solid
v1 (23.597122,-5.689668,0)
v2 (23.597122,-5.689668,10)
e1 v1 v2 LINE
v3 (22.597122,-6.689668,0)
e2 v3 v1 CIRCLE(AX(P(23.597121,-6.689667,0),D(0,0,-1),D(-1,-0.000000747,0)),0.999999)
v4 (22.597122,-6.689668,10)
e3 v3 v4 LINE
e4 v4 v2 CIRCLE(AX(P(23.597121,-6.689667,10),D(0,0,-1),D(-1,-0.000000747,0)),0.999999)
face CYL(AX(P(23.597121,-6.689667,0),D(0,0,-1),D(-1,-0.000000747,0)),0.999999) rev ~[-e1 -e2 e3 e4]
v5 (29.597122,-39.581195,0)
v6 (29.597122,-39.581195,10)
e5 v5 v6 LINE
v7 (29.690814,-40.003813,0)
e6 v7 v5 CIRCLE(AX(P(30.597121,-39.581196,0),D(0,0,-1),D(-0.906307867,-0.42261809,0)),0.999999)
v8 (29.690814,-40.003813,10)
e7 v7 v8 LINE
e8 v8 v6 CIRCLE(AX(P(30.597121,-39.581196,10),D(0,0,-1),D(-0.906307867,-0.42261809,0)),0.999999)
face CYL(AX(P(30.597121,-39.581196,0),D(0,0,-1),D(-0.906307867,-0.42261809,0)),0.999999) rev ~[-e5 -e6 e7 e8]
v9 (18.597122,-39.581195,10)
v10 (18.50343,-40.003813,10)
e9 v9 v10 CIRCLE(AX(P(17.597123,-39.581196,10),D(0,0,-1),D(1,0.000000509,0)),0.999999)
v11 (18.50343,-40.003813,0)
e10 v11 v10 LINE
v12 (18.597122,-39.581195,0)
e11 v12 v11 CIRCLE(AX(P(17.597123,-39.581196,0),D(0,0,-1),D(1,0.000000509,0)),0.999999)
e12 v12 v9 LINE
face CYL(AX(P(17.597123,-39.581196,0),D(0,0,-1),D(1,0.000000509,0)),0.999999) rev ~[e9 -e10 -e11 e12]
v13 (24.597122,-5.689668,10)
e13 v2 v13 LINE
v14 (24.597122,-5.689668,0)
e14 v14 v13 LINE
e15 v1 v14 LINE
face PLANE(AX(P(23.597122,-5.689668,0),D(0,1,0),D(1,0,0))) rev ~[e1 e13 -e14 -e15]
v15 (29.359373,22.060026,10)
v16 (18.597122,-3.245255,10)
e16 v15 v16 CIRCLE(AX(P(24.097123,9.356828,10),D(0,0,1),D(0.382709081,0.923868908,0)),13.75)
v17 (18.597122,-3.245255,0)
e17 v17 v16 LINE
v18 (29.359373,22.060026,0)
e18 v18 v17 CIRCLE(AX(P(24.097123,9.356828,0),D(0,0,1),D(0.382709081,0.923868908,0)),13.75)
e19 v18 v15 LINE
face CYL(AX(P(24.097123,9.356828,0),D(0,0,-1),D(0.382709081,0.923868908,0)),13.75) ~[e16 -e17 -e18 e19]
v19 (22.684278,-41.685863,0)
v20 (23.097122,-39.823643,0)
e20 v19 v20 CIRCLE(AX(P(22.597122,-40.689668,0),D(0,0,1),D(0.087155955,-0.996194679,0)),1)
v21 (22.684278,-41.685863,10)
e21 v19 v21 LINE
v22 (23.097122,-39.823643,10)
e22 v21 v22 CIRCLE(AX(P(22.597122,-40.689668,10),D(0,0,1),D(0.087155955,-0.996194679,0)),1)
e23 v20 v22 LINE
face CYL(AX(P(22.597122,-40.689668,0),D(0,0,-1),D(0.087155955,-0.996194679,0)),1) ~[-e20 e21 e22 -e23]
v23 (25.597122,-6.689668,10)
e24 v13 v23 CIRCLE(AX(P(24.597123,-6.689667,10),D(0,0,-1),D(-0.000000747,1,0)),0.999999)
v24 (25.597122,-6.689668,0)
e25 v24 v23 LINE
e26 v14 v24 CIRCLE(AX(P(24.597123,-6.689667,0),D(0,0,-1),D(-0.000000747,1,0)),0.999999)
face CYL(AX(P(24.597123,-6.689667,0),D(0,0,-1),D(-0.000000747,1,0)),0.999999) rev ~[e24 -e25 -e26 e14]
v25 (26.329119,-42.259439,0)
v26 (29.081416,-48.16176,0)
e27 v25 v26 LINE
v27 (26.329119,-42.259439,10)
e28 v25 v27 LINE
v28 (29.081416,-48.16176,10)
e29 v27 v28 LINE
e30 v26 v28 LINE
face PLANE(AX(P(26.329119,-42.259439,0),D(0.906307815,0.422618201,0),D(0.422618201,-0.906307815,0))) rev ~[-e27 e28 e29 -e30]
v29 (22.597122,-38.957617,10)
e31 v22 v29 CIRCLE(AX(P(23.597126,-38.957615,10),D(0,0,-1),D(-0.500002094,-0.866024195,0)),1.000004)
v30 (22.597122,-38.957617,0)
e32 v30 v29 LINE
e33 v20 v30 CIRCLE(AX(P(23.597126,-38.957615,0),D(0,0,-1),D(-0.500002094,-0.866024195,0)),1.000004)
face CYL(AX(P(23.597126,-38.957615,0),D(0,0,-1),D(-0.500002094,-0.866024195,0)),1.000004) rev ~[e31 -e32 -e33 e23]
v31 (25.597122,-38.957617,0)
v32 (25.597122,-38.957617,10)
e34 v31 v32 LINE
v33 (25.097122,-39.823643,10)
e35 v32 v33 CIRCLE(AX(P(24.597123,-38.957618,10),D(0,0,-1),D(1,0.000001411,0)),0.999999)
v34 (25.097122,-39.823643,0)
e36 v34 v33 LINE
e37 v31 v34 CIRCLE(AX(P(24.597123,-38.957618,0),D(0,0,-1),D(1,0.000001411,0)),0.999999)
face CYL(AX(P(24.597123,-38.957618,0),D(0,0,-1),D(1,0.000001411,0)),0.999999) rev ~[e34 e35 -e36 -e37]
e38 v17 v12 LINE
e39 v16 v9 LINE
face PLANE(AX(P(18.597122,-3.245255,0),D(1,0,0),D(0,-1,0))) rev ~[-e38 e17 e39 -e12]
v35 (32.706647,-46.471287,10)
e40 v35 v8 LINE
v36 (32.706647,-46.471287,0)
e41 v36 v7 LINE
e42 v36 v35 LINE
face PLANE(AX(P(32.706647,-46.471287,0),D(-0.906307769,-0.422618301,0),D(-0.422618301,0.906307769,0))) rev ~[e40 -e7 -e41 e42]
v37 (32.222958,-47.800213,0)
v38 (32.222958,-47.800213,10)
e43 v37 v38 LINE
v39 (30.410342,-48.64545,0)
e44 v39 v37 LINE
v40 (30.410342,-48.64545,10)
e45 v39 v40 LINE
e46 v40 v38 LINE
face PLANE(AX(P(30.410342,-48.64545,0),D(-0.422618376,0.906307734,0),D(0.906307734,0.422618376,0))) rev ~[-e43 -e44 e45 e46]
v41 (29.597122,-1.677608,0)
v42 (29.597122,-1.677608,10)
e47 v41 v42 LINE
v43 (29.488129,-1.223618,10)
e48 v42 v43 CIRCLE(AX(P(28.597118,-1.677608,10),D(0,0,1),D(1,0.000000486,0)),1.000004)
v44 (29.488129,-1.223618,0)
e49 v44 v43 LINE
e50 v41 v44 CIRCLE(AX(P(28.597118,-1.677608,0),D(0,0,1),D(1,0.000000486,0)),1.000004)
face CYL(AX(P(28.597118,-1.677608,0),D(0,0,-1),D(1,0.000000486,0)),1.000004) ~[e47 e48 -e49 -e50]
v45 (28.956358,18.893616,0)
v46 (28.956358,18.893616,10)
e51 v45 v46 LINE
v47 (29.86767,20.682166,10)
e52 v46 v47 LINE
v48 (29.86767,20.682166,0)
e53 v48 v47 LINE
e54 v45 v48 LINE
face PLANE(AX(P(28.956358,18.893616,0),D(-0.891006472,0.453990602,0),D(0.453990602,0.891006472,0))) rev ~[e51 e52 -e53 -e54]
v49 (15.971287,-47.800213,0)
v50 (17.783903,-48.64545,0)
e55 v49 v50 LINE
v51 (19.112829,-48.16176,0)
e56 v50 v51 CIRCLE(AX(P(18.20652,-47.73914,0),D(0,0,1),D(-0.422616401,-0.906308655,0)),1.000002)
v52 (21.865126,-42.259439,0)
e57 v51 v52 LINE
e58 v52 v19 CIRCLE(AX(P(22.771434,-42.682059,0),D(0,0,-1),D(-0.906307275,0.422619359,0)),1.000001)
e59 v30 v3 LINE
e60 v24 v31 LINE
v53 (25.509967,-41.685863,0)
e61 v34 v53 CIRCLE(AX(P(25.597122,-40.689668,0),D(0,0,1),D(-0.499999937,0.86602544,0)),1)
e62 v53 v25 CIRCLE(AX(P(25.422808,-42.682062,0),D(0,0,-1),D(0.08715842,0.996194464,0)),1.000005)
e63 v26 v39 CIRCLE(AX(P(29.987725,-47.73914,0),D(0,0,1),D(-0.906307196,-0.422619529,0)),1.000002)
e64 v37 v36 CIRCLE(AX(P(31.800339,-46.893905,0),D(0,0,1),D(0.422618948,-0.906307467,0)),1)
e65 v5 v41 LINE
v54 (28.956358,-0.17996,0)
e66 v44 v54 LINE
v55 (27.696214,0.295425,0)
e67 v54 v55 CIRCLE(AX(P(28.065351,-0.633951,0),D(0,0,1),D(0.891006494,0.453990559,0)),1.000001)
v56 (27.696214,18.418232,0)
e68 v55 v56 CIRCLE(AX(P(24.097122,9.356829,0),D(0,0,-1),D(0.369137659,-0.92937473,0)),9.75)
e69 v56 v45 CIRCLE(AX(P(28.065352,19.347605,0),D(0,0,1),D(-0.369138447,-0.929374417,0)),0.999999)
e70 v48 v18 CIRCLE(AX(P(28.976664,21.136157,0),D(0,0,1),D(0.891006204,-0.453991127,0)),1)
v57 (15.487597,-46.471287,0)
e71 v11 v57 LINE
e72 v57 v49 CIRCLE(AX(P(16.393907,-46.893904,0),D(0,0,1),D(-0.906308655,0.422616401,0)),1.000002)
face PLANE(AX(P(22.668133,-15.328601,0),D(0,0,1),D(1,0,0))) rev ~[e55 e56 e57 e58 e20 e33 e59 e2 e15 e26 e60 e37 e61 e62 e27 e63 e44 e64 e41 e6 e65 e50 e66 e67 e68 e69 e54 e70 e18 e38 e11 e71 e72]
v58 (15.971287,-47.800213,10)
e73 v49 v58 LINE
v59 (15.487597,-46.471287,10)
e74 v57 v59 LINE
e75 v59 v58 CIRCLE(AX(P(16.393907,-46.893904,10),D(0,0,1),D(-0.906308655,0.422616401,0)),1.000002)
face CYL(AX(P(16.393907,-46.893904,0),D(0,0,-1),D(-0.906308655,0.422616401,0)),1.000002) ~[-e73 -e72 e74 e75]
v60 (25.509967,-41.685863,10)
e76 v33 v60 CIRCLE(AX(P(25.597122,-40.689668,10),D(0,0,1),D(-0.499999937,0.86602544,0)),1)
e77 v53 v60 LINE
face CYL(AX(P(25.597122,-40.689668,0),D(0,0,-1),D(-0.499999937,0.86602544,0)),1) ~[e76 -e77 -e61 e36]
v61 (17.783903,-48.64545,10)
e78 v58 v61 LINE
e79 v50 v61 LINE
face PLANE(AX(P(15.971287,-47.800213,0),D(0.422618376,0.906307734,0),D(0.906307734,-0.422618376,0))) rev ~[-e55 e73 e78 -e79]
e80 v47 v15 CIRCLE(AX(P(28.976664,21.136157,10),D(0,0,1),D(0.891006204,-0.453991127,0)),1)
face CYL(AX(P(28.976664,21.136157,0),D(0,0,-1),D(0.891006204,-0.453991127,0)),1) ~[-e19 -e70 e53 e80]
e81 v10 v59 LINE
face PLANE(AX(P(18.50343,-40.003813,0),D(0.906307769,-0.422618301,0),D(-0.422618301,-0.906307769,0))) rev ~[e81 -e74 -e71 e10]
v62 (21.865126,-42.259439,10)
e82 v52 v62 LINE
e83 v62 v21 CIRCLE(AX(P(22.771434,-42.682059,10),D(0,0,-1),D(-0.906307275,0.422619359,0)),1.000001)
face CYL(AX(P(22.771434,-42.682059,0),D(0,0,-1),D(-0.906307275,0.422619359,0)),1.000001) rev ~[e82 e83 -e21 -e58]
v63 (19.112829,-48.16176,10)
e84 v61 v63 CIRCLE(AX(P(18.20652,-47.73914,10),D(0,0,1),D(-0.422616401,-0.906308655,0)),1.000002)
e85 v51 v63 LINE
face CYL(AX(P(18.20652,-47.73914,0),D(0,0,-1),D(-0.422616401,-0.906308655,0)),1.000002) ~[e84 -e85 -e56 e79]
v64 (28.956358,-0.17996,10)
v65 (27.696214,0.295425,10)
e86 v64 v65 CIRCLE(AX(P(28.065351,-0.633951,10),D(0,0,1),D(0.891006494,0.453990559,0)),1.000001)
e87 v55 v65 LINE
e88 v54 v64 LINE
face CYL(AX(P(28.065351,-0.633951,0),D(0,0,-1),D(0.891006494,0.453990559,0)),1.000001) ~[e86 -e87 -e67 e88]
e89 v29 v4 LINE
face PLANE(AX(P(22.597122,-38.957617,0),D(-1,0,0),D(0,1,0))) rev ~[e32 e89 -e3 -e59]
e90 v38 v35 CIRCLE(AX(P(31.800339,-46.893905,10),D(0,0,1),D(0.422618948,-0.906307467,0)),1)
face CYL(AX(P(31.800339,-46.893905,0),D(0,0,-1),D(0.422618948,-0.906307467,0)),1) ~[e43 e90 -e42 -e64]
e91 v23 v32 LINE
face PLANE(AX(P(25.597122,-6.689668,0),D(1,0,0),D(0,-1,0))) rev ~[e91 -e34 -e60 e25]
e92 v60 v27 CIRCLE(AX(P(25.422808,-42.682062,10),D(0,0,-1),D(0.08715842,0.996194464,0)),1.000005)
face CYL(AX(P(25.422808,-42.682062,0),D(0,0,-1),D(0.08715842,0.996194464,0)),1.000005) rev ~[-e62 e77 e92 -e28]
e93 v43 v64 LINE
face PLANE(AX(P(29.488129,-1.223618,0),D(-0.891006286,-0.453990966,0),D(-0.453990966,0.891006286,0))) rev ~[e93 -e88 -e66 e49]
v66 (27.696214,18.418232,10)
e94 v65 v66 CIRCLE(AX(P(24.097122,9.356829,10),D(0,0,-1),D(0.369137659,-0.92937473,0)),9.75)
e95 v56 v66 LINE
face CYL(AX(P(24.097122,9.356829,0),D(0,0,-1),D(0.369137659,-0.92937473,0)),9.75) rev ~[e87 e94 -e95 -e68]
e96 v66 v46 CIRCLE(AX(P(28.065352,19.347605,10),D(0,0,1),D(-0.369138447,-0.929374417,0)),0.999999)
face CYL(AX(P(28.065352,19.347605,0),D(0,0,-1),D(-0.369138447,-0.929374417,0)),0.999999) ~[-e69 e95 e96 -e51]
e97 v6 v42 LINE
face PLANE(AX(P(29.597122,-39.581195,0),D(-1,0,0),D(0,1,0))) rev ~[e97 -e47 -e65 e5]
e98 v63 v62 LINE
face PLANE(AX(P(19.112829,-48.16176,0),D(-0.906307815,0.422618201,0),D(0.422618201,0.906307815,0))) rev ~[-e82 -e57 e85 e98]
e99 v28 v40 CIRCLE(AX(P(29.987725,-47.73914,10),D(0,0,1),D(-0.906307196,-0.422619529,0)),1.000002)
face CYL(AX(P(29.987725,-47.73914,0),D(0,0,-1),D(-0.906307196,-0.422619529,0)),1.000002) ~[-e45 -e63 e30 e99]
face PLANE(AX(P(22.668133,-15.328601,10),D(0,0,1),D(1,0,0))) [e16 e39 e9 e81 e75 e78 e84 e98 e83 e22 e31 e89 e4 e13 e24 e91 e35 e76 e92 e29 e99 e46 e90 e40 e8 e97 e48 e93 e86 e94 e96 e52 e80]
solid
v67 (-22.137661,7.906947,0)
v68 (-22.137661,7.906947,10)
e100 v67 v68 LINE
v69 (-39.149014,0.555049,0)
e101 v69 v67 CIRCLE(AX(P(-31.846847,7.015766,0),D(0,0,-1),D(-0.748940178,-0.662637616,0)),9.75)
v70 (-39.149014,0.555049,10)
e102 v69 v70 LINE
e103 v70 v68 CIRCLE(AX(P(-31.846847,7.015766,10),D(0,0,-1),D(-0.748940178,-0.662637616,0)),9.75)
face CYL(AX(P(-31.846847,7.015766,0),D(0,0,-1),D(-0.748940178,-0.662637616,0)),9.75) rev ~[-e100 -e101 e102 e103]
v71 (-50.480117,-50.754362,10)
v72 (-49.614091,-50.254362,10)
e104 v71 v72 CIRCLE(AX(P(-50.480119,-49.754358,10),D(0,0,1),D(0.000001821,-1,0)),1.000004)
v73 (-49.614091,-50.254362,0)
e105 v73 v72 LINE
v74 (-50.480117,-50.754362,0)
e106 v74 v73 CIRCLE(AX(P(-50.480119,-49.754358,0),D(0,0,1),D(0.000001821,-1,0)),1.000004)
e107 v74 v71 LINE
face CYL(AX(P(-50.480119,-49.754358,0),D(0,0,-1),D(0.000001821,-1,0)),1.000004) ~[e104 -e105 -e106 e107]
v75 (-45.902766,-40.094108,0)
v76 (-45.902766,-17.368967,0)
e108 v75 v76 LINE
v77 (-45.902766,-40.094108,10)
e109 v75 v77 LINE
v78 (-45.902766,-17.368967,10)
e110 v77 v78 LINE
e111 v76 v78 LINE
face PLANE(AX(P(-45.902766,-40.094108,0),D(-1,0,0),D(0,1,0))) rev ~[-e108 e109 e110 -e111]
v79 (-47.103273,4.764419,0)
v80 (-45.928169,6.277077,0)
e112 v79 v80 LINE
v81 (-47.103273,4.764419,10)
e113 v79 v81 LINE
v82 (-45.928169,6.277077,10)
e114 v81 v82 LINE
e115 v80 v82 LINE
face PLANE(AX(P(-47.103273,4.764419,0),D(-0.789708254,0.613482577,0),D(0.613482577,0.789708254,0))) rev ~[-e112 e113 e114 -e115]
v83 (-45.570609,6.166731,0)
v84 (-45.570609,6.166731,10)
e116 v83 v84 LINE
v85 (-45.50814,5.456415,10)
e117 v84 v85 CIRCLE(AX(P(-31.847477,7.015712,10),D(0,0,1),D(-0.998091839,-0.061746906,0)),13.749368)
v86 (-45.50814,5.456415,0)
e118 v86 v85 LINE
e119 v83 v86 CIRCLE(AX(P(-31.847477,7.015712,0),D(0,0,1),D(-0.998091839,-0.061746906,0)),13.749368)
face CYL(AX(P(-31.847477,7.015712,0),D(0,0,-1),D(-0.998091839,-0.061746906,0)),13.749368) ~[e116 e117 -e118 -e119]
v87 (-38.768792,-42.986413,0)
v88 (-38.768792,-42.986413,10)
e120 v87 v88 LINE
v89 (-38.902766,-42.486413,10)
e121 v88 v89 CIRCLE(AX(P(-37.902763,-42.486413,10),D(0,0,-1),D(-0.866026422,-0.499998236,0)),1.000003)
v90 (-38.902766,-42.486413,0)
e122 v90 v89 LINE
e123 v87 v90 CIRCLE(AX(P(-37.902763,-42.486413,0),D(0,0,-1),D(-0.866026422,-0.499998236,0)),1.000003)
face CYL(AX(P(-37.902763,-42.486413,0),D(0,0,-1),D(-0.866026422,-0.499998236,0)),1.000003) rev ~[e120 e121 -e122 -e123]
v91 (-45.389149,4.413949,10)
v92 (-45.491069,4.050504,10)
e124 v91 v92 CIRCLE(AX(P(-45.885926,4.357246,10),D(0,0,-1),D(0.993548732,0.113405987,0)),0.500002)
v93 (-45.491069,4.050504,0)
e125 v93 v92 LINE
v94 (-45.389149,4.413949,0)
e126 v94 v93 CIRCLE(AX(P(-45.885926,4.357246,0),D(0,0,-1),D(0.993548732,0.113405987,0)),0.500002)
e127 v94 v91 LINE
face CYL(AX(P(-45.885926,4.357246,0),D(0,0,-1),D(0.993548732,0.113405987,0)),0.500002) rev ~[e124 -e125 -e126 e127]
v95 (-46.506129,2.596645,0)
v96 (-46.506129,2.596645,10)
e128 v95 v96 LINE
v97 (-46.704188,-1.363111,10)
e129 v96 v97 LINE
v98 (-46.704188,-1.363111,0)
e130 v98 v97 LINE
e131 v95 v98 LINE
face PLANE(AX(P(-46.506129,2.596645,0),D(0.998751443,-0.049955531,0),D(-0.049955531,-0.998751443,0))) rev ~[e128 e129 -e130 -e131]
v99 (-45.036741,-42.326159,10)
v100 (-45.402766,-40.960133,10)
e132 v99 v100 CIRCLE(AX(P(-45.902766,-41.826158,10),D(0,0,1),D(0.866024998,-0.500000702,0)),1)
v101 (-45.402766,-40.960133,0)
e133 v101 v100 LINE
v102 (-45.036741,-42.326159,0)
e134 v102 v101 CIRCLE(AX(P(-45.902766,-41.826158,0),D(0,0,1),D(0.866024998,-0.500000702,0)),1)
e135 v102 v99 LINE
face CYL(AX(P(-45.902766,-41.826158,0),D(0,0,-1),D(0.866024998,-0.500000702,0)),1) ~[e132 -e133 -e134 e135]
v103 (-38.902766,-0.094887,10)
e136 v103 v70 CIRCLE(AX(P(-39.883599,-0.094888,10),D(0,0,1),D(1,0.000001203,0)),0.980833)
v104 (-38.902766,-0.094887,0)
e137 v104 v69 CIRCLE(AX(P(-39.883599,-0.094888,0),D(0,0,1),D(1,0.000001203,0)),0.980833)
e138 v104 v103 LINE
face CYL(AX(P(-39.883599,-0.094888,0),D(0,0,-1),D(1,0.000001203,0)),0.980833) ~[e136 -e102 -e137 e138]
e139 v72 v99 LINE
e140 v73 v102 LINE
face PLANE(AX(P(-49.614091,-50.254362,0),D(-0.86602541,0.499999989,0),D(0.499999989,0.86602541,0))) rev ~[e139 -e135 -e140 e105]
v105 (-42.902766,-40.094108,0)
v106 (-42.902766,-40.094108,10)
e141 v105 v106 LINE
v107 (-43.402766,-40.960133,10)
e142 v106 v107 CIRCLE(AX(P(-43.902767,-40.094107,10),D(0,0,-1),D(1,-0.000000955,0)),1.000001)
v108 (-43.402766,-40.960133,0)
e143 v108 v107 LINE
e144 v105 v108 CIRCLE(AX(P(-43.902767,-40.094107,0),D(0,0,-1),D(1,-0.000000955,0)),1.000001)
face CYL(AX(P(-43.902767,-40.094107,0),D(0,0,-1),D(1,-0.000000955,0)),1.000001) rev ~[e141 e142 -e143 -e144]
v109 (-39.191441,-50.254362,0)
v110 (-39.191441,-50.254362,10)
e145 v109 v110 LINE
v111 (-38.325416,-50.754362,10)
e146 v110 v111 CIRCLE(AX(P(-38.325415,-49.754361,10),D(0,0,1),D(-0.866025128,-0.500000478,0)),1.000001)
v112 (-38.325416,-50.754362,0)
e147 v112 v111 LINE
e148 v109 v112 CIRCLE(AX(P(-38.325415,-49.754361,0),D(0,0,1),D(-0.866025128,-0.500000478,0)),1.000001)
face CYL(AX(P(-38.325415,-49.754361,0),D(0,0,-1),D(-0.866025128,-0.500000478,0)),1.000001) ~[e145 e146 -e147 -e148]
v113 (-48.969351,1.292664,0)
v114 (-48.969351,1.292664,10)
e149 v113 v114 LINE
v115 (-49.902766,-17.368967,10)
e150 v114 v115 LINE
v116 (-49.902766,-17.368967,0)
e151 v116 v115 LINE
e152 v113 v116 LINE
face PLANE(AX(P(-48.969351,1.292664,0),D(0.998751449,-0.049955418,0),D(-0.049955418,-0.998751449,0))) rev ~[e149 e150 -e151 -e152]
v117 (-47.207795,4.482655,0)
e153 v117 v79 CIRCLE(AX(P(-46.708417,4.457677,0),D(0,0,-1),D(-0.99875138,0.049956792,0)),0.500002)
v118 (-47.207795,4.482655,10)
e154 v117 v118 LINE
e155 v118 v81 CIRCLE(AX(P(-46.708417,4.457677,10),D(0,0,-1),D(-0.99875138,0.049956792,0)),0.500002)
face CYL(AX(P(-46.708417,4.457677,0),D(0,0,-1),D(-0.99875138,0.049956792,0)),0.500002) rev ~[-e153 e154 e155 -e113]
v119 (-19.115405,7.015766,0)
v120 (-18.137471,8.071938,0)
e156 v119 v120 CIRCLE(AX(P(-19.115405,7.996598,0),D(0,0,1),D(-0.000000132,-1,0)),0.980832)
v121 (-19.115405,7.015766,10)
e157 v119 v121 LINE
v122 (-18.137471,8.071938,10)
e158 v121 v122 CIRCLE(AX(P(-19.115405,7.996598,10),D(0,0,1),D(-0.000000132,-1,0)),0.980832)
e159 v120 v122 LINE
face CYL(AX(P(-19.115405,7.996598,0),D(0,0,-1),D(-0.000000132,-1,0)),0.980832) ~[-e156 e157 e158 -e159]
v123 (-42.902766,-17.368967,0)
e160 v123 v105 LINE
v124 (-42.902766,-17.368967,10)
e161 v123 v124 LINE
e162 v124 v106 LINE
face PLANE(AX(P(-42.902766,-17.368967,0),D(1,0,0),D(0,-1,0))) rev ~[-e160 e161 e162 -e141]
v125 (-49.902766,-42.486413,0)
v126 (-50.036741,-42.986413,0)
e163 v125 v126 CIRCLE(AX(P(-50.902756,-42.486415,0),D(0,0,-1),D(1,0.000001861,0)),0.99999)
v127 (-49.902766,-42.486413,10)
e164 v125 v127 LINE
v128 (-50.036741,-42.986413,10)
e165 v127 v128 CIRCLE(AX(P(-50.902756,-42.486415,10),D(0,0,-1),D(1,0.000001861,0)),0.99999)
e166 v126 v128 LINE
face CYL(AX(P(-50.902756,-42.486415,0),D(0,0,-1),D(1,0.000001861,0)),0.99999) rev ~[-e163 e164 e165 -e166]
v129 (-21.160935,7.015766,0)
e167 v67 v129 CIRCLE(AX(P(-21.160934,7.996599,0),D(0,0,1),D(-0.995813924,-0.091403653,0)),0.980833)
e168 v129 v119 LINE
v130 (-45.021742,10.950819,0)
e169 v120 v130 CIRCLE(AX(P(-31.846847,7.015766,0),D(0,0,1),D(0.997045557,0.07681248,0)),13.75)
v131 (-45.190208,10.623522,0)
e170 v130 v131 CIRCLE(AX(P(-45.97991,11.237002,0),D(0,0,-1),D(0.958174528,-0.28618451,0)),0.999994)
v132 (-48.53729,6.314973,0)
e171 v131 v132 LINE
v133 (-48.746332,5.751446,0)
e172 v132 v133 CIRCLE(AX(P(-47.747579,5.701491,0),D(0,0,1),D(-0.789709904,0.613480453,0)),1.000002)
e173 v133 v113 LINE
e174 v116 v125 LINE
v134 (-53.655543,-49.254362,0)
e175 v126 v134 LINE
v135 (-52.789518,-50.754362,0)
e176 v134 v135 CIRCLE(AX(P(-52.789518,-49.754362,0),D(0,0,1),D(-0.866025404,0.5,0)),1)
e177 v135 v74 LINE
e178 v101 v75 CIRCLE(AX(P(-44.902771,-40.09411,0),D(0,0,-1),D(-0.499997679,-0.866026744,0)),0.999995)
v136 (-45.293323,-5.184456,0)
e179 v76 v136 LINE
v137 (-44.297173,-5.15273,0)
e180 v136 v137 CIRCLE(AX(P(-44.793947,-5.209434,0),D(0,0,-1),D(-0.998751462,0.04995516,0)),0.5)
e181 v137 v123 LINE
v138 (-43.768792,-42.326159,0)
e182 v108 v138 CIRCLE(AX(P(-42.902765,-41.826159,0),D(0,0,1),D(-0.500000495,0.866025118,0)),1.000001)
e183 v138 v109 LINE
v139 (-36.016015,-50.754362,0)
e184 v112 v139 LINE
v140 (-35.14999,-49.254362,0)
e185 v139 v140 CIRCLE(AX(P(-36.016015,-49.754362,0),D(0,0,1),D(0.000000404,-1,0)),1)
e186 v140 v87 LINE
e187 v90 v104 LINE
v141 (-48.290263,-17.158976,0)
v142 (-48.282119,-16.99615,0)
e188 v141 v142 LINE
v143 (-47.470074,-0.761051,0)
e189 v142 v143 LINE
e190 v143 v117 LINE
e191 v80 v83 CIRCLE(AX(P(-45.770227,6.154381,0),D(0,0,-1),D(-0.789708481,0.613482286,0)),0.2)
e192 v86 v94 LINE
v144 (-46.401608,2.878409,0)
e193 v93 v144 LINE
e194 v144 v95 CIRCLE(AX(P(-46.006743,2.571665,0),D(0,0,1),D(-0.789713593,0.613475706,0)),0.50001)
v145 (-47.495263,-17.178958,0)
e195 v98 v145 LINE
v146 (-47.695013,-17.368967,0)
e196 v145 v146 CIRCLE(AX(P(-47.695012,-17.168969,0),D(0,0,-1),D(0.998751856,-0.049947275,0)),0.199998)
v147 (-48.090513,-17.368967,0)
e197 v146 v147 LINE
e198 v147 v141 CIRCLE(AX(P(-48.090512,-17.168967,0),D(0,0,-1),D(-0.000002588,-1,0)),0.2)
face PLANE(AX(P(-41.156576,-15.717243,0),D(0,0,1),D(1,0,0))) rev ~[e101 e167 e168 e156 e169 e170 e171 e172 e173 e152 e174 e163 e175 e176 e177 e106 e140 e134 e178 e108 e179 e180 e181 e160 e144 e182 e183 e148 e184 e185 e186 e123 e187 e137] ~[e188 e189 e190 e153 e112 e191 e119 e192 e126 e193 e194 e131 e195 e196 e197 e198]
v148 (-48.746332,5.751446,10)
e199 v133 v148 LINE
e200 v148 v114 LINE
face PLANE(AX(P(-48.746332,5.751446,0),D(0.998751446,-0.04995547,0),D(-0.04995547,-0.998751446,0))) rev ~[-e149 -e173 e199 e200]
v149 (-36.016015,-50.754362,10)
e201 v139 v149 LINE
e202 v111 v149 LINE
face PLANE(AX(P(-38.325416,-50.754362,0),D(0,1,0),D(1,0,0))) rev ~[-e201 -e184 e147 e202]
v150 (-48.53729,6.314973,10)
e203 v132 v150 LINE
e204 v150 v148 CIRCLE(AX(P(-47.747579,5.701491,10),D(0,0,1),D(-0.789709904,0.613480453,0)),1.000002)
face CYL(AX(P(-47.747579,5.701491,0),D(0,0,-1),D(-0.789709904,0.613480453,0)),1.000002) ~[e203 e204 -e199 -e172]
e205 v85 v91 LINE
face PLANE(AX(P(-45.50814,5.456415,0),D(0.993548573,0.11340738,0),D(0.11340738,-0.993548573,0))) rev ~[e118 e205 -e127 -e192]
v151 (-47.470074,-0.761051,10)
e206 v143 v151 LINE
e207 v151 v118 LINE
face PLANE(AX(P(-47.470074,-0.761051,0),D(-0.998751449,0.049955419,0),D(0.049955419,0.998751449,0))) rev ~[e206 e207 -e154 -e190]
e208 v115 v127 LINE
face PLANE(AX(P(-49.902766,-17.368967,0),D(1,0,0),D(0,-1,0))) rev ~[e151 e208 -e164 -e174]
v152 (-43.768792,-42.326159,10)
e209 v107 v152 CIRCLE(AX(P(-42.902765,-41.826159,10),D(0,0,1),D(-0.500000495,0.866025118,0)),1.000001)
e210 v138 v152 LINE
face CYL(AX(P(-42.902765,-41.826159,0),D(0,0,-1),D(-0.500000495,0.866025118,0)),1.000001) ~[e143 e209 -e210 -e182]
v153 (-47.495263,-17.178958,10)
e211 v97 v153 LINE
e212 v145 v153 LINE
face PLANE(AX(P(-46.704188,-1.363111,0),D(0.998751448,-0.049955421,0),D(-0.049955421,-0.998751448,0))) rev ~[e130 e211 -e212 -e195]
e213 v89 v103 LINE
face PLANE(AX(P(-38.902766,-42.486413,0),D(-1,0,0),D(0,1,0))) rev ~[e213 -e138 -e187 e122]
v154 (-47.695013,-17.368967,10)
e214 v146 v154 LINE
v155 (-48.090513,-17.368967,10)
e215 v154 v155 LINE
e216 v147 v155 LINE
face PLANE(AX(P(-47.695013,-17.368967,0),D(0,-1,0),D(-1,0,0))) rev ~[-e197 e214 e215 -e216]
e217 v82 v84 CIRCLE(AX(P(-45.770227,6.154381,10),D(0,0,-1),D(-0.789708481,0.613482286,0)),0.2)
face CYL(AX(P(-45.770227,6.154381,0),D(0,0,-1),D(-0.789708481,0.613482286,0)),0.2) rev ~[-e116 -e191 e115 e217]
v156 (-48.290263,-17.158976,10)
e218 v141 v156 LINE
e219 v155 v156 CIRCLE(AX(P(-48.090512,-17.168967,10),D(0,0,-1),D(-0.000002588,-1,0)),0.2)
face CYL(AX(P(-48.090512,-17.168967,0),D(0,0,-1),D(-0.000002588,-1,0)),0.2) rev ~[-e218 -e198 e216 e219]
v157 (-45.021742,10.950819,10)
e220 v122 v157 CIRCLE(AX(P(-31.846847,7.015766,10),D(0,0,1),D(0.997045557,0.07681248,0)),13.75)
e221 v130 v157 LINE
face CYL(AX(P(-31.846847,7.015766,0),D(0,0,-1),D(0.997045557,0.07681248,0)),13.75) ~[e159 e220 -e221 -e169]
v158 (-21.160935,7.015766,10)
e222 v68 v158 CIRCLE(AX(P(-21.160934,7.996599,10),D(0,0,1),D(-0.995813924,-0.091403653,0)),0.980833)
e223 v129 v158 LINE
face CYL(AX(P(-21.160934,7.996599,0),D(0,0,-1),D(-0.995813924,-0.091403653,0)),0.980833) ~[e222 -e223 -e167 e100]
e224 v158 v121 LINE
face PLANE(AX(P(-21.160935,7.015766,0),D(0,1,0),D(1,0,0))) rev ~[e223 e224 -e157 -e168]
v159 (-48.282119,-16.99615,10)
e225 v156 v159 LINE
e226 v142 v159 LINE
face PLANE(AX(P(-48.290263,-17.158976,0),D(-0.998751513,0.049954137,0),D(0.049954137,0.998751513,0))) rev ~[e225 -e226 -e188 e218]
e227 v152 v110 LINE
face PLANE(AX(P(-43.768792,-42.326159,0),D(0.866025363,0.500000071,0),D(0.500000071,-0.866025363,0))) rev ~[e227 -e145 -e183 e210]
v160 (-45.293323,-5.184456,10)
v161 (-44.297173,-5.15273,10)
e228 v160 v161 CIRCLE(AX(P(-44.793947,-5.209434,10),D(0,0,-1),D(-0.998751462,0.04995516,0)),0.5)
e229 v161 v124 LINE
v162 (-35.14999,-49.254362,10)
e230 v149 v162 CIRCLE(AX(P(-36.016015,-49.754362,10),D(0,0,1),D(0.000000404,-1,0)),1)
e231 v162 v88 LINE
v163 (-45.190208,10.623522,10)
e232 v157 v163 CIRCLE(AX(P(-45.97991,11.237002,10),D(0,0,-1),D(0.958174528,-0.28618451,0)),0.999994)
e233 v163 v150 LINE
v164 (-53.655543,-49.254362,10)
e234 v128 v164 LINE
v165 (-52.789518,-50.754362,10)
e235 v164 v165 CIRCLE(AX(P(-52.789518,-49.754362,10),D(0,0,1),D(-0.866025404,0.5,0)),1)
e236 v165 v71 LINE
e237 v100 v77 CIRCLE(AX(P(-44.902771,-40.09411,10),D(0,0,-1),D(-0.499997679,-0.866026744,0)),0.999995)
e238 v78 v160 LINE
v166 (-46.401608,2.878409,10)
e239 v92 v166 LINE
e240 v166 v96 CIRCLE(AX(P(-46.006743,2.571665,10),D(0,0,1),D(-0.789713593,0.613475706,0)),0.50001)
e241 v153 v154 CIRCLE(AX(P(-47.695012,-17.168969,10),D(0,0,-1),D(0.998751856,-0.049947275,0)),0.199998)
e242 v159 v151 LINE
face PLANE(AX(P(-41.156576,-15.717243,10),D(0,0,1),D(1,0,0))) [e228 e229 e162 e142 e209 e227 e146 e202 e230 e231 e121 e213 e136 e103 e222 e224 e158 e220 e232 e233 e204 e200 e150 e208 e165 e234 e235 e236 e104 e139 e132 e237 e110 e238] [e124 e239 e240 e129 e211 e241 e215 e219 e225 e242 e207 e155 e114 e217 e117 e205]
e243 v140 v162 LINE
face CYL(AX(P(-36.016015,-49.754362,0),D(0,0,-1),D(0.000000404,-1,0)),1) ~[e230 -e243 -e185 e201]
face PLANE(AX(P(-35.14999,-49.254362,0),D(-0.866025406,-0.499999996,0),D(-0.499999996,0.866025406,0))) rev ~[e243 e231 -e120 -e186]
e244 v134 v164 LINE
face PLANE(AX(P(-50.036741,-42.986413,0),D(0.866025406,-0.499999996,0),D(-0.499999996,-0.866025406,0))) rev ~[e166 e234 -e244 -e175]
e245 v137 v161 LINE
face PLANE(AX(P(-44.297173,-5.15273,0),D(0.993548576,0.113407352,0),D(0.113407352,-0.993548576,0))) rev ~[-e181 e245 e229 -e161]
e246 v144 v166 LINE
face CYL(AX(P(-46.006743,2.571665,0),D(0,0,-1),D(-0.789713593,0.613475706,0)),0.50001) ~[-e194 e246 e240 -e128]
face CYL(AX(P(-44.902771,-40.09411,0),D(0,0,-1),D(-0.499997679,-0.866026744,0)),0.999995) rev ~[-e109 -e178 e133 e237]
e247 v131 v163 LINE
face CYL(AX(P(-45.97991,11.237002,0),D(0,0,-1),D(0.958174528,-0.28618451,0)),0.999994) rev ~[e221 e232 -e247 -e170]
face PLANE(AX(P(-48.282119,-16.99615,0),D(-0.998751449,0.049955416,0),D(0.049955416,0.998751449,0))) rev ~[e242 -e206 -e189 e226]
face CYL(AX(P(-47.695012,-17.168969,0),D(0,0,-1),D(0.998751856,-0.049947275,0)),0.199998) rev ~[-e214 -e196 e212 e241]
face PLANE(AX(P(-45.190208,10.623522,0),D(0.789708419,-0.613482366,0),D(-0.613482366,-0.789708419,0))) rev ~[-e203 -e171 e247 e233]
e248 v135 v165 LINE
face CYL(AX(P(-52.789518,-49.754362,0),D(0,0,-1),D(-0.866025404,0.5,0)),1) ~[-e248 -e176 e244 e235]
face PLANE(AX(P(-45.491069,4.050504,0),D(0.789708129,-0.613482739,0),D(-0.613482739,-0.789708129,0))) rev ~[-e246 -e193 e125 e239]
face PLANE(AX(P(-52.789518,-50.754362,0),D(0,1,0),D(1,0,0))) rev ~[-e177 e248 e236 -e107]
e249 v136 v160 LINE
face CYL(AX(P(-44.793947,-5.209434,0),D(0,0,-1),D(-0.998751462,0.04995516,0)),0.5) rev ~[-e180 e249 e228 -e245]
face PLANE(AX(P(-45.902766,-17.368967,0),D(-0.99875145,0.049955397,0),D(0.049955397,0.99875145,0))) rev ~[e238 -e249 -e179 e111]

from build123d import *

# Parameters (mm, degrees)
F1_DEPTH = 10


with BuildPart() as f1:
    # F0 (on Top) → F1 (new body)
    with BuildSketch(Plane.XY):
        with BuildLine():
            ThreePointArc((-39.149014, 0.555049), (-35.714797, 15.965708), (-22.137661, 7.906947))
            ThreePointArc((-22.137661, 7.906947), (-21.822032, 7.272042), (-21.160935, 7.015766))
            Line((-21.160935, 7.015766), (-19.115405, 7.015766))
            ThreePointArc((-19.115405, 7.015766), (-18.395708, 7.330214), (-18.137471, 8.071938))
            ThreePointArc((-18.137471, 8.071938), (-30.38281, 20.687602), (-45.021742, 10.950819))
            ThreePointArc((-45.021742, 10.950819), (-45.090785, 10.779352), (-45.190208, 10.623522))
            Line((-45.190208, 10.623522), (-48.53729, 6.314973))
            ThreePointArc((-48.53729, 6.314973), (-48.685151, 6.049287), (-48.746332, 5.751446))
            Line((-48.746332, 5.751446), (-48.969351, 1.292664))
            Line((-48.969351, 1.292664), (-49.902766, -17.368967))
            Line((-49.902766, -17.368967), (-49.902766, -41.706997))
            Line((-49.902766, -41.706997), (-49.902766, -42.486413))
            ThreePointArc((-49.902766, -42.486413), (-49.93684, -42.745232), (-50.036741, -42.986413))
            Line((-50.036741, -42.986413), (-53.655543, -49.254362))
            ThreePointArc((-53.655543, -49.254362), (-53.655543, -50.254362), (-52.789518, -50.754362))
            Line((-52.789518, -50.754362), (-50.480117, -50.754362))
            ThreePointArc((-50.480117, -50.754362), (-49.980117, -50.620387), (-49.614091, -50.254362))
            Line((-49.614091, -50.254362), (-45.036741, -42.326159))
            ThreePointArc((-45.036741, -42.326159), (-44.93684, -41.56734), (-45.402766, -40.960133))
            ThreePointArc((-45.402766, -40.960133), (-45.768792, -40.594108), (-45.902766, -40.094108))
            Line((-45.902766, -40.094108), (-45.902766, -17.368967))
            Line((-45.902766, -17.368967), (-45.293323, -5.184456))
            ThreePointArc((-45.293323, -5.184456), (-44.809864, -4.709687), (-44.297173, -5.15273))
            Line((-44.297173, -5.15273), (-42.902766, -17.368967))
            Line((-42.902766, -17.368967), (-42.902766, -40.094108))
            ThreePointArc((-42.902766, -40.094108), (-43.036741, -40.594108), (-43.402766, -40.960133))
            ThreePointArc((-43.402766, -40.960133), (-43.868692, -41.56734), (-43.768792, -42.326159))
            Line((-43.768792, -42.326159), (-39.191441, -50.254362))
            ThreePointArc((-39.191441, -50.254362), (-38.825416, -50.620387), (-38.325416, -50.754362))
            Line((-38.325416, -50.754362), (-36.016015, -50.754362))
            ThreePointArc((-36.016015, -50.754362), (-35.14999, -50.254362), (-35.14999, -49.254362))
            Line((-35.14999, -49.254362), (-38.768792, -42.986413))
            ThreePointArc((-38.768792, -42.986413), (-38.868692, -42.745232), (-38.902766, -42.486413))
            Line((-38.902766, -42.486413), (-38.902766, -4.785781))
            Line((-38.902766, -4.785781), (-38.902766, -0.094887))
            ThreePointArc((-38.902766, -0.094887), (-38.966392, 0.252624), (-39.149014, 0.555049))
        make_face()
        with BuildLine():
            Line((-46.704188, -1.363111), (-47.495263, -17.178958))
            ThreePointArc((-47.495263, -17.178958), (-47.557169, -17.313878), (-47.695013, -17.368967))
            Line((-47.695013, -17.368967), (-48.090513, -17.368967))
            ThreePointArc((-48.090513, -17.368967), (-48.235423, -17.306811), (-48.290263, -17.158976))
            Line((-48.290263, -17.158976), (-48.282119, -16.99615))
            Line((-48.282119, -16.99615), (-47.470074, -0.761051))
            Line((-47.470074, -0.761051), (-47.207795, 4.482655))
            ThreePointArc((-47.207795, 4.482655), (-47.177204, 4.631576), (-47.103273, 4.764419))
            Line((-47.103273, 4.764419), (-45.928169, 6.277077))
            ThreePointArc((-45.928169, 6.277077), (-45.71125, 6.345487), (-45.570609, 6.166731))
            ThreePointArc((-45.570609, 6.166731), (-45.54398, 5.811168), (-45.50814, 5.456415))
            Line((-45.50814, 5.456415), (-45.389149, 4.413949))
            ThreePointArc((-45.389149, 4.413949), (-45.404495, 4.222239), (-45.491069, 4.050504))
            Line((-45.491069, 4.050504), (-46.401608, 2.878409))
            ThreePointArc((-46.401608, 2.878409), (-46.475538, 2.745566), (-46.506129, 2.596645))
            Line((-46.506129, 2.596645), (-46.704188, -1.363111))
        make_face(mode=Mode.SUBTRACT)
        with BuildLine():
            Line((23.597122, -5.689668), (24.097122, -5.689668))
            Line((24.097122, -5.689668), (24.597122, -5.689668))
            ThreePointArc((24.597122, -5.689668), (25.304229, -5.982561), (25.597122, -6.689668))
            Line((25.597122, -6.689668), (25.597122, -38.957617))
            ThreePointArc((25.597122, -38.957617), (25.463148, -39.457617), (25.097122, -39.823643))
            ThreePointArc((25.097122, -39.823643), (24.620826, -40.906108), (25.509967, -41.685863))
            ThreePointArc((25.509967, -41.685863), (25.996387, -41.862906), (26.329119, -42.259439))
            Line((26.329119, -42.259439), (29.081416, -48.16176))
            ThreePointArc((29.081416, -48.16176), (29.645704, -48.678834), (30.410342, -48.64545))
            Line((30.410342, -48.64545), (32.222958, -47.800213))
            ThreePointArc((32.222958, -47.800213), (32.740032, -47.235925), (32.706647, -46.471287))
            Line((32.706647, -46.471287), (29.690814, -40.003813))
            ThreePointArc((29.690814, -40.003813), (29.620826, -39.797635), (29.597122, -39.581195))
            Line((29.597122, -39.581195), (29.597122, -5.689668))
            Line((29.597122, -5.689668), (29.597122, -1.677608))
            ThreePointArc((29.597122, -1.677608), (29.569492, -1.444163), (29.488129, -1.223618))
            Line((29.488129, -1.223618), (28.956358, -0.17996))
            ThreePointArc((28.956358, -0.17996), (28.418317, 0.301686), (27.696214, 0.295425))
            ThreePointArc((27.696214, 0.295425), (14.347122, 9.356828), (27.696214, 18.418232))
            ThreePointArc((27.696214, 18.418232), (28.418317, 18.41197), (28.956358, 18.893616))
            Line((28.956358, 18.893616), (29.86767, 20.682166))
            ThreePointArc((29.86767, 20.682166), (29.91486, 21.482261), (29.359373, 22.060026))
            ThreePointArc((29.359373, 22.060026), (11.443924, 14.738191), (18.597122, -3.245255))
            Line((18.597122, -3.245255), (18.597122, -5.689668))
            Line((18.597122, -5.689668), (18.597122, -39.581195))
            ThreePointArc((18.597122, -39.581195), (18.573418, -39.797635), (18.50343, -40.003813))
            Line((18.50343, -40.003813), (15.487597, -46.471287))
            ThreePointArc((15.487597, -46.471287), (15.454213, -47.235925), (15.971287, -47.800213))
            Line((15.971287, -47.800213), (17.783903, -48.64545))
            ThreePointArc((17.783903, -48.64545), (18.548541, -48.678834), (19.112829, -48.16176))
            Line((19.112829, -48.16176), (21.865126, -42.259439))
            ThreePointArc((21.865126, -42.259439), (22.197857, -41.862906), (22.684278, -41.685863))
            ThreePointArc((22.684278, -41.685863), (23.573418, -40.906108), (23.097122, -39.823643))
            ThreePointArc((23.097122, -39.823643), (22.731097, -39.457617), (22.597122, -38.957617))
            Line((22.597122, -38.957617), (22.597122, -6.689668))
            ThreePointArc((22.597122, -6.689668), (22.890015, -5.982561), (23.597122, -5.689668))
        make_face()
    extrude(amount=F1_DEPTH)


solid = f1.part
